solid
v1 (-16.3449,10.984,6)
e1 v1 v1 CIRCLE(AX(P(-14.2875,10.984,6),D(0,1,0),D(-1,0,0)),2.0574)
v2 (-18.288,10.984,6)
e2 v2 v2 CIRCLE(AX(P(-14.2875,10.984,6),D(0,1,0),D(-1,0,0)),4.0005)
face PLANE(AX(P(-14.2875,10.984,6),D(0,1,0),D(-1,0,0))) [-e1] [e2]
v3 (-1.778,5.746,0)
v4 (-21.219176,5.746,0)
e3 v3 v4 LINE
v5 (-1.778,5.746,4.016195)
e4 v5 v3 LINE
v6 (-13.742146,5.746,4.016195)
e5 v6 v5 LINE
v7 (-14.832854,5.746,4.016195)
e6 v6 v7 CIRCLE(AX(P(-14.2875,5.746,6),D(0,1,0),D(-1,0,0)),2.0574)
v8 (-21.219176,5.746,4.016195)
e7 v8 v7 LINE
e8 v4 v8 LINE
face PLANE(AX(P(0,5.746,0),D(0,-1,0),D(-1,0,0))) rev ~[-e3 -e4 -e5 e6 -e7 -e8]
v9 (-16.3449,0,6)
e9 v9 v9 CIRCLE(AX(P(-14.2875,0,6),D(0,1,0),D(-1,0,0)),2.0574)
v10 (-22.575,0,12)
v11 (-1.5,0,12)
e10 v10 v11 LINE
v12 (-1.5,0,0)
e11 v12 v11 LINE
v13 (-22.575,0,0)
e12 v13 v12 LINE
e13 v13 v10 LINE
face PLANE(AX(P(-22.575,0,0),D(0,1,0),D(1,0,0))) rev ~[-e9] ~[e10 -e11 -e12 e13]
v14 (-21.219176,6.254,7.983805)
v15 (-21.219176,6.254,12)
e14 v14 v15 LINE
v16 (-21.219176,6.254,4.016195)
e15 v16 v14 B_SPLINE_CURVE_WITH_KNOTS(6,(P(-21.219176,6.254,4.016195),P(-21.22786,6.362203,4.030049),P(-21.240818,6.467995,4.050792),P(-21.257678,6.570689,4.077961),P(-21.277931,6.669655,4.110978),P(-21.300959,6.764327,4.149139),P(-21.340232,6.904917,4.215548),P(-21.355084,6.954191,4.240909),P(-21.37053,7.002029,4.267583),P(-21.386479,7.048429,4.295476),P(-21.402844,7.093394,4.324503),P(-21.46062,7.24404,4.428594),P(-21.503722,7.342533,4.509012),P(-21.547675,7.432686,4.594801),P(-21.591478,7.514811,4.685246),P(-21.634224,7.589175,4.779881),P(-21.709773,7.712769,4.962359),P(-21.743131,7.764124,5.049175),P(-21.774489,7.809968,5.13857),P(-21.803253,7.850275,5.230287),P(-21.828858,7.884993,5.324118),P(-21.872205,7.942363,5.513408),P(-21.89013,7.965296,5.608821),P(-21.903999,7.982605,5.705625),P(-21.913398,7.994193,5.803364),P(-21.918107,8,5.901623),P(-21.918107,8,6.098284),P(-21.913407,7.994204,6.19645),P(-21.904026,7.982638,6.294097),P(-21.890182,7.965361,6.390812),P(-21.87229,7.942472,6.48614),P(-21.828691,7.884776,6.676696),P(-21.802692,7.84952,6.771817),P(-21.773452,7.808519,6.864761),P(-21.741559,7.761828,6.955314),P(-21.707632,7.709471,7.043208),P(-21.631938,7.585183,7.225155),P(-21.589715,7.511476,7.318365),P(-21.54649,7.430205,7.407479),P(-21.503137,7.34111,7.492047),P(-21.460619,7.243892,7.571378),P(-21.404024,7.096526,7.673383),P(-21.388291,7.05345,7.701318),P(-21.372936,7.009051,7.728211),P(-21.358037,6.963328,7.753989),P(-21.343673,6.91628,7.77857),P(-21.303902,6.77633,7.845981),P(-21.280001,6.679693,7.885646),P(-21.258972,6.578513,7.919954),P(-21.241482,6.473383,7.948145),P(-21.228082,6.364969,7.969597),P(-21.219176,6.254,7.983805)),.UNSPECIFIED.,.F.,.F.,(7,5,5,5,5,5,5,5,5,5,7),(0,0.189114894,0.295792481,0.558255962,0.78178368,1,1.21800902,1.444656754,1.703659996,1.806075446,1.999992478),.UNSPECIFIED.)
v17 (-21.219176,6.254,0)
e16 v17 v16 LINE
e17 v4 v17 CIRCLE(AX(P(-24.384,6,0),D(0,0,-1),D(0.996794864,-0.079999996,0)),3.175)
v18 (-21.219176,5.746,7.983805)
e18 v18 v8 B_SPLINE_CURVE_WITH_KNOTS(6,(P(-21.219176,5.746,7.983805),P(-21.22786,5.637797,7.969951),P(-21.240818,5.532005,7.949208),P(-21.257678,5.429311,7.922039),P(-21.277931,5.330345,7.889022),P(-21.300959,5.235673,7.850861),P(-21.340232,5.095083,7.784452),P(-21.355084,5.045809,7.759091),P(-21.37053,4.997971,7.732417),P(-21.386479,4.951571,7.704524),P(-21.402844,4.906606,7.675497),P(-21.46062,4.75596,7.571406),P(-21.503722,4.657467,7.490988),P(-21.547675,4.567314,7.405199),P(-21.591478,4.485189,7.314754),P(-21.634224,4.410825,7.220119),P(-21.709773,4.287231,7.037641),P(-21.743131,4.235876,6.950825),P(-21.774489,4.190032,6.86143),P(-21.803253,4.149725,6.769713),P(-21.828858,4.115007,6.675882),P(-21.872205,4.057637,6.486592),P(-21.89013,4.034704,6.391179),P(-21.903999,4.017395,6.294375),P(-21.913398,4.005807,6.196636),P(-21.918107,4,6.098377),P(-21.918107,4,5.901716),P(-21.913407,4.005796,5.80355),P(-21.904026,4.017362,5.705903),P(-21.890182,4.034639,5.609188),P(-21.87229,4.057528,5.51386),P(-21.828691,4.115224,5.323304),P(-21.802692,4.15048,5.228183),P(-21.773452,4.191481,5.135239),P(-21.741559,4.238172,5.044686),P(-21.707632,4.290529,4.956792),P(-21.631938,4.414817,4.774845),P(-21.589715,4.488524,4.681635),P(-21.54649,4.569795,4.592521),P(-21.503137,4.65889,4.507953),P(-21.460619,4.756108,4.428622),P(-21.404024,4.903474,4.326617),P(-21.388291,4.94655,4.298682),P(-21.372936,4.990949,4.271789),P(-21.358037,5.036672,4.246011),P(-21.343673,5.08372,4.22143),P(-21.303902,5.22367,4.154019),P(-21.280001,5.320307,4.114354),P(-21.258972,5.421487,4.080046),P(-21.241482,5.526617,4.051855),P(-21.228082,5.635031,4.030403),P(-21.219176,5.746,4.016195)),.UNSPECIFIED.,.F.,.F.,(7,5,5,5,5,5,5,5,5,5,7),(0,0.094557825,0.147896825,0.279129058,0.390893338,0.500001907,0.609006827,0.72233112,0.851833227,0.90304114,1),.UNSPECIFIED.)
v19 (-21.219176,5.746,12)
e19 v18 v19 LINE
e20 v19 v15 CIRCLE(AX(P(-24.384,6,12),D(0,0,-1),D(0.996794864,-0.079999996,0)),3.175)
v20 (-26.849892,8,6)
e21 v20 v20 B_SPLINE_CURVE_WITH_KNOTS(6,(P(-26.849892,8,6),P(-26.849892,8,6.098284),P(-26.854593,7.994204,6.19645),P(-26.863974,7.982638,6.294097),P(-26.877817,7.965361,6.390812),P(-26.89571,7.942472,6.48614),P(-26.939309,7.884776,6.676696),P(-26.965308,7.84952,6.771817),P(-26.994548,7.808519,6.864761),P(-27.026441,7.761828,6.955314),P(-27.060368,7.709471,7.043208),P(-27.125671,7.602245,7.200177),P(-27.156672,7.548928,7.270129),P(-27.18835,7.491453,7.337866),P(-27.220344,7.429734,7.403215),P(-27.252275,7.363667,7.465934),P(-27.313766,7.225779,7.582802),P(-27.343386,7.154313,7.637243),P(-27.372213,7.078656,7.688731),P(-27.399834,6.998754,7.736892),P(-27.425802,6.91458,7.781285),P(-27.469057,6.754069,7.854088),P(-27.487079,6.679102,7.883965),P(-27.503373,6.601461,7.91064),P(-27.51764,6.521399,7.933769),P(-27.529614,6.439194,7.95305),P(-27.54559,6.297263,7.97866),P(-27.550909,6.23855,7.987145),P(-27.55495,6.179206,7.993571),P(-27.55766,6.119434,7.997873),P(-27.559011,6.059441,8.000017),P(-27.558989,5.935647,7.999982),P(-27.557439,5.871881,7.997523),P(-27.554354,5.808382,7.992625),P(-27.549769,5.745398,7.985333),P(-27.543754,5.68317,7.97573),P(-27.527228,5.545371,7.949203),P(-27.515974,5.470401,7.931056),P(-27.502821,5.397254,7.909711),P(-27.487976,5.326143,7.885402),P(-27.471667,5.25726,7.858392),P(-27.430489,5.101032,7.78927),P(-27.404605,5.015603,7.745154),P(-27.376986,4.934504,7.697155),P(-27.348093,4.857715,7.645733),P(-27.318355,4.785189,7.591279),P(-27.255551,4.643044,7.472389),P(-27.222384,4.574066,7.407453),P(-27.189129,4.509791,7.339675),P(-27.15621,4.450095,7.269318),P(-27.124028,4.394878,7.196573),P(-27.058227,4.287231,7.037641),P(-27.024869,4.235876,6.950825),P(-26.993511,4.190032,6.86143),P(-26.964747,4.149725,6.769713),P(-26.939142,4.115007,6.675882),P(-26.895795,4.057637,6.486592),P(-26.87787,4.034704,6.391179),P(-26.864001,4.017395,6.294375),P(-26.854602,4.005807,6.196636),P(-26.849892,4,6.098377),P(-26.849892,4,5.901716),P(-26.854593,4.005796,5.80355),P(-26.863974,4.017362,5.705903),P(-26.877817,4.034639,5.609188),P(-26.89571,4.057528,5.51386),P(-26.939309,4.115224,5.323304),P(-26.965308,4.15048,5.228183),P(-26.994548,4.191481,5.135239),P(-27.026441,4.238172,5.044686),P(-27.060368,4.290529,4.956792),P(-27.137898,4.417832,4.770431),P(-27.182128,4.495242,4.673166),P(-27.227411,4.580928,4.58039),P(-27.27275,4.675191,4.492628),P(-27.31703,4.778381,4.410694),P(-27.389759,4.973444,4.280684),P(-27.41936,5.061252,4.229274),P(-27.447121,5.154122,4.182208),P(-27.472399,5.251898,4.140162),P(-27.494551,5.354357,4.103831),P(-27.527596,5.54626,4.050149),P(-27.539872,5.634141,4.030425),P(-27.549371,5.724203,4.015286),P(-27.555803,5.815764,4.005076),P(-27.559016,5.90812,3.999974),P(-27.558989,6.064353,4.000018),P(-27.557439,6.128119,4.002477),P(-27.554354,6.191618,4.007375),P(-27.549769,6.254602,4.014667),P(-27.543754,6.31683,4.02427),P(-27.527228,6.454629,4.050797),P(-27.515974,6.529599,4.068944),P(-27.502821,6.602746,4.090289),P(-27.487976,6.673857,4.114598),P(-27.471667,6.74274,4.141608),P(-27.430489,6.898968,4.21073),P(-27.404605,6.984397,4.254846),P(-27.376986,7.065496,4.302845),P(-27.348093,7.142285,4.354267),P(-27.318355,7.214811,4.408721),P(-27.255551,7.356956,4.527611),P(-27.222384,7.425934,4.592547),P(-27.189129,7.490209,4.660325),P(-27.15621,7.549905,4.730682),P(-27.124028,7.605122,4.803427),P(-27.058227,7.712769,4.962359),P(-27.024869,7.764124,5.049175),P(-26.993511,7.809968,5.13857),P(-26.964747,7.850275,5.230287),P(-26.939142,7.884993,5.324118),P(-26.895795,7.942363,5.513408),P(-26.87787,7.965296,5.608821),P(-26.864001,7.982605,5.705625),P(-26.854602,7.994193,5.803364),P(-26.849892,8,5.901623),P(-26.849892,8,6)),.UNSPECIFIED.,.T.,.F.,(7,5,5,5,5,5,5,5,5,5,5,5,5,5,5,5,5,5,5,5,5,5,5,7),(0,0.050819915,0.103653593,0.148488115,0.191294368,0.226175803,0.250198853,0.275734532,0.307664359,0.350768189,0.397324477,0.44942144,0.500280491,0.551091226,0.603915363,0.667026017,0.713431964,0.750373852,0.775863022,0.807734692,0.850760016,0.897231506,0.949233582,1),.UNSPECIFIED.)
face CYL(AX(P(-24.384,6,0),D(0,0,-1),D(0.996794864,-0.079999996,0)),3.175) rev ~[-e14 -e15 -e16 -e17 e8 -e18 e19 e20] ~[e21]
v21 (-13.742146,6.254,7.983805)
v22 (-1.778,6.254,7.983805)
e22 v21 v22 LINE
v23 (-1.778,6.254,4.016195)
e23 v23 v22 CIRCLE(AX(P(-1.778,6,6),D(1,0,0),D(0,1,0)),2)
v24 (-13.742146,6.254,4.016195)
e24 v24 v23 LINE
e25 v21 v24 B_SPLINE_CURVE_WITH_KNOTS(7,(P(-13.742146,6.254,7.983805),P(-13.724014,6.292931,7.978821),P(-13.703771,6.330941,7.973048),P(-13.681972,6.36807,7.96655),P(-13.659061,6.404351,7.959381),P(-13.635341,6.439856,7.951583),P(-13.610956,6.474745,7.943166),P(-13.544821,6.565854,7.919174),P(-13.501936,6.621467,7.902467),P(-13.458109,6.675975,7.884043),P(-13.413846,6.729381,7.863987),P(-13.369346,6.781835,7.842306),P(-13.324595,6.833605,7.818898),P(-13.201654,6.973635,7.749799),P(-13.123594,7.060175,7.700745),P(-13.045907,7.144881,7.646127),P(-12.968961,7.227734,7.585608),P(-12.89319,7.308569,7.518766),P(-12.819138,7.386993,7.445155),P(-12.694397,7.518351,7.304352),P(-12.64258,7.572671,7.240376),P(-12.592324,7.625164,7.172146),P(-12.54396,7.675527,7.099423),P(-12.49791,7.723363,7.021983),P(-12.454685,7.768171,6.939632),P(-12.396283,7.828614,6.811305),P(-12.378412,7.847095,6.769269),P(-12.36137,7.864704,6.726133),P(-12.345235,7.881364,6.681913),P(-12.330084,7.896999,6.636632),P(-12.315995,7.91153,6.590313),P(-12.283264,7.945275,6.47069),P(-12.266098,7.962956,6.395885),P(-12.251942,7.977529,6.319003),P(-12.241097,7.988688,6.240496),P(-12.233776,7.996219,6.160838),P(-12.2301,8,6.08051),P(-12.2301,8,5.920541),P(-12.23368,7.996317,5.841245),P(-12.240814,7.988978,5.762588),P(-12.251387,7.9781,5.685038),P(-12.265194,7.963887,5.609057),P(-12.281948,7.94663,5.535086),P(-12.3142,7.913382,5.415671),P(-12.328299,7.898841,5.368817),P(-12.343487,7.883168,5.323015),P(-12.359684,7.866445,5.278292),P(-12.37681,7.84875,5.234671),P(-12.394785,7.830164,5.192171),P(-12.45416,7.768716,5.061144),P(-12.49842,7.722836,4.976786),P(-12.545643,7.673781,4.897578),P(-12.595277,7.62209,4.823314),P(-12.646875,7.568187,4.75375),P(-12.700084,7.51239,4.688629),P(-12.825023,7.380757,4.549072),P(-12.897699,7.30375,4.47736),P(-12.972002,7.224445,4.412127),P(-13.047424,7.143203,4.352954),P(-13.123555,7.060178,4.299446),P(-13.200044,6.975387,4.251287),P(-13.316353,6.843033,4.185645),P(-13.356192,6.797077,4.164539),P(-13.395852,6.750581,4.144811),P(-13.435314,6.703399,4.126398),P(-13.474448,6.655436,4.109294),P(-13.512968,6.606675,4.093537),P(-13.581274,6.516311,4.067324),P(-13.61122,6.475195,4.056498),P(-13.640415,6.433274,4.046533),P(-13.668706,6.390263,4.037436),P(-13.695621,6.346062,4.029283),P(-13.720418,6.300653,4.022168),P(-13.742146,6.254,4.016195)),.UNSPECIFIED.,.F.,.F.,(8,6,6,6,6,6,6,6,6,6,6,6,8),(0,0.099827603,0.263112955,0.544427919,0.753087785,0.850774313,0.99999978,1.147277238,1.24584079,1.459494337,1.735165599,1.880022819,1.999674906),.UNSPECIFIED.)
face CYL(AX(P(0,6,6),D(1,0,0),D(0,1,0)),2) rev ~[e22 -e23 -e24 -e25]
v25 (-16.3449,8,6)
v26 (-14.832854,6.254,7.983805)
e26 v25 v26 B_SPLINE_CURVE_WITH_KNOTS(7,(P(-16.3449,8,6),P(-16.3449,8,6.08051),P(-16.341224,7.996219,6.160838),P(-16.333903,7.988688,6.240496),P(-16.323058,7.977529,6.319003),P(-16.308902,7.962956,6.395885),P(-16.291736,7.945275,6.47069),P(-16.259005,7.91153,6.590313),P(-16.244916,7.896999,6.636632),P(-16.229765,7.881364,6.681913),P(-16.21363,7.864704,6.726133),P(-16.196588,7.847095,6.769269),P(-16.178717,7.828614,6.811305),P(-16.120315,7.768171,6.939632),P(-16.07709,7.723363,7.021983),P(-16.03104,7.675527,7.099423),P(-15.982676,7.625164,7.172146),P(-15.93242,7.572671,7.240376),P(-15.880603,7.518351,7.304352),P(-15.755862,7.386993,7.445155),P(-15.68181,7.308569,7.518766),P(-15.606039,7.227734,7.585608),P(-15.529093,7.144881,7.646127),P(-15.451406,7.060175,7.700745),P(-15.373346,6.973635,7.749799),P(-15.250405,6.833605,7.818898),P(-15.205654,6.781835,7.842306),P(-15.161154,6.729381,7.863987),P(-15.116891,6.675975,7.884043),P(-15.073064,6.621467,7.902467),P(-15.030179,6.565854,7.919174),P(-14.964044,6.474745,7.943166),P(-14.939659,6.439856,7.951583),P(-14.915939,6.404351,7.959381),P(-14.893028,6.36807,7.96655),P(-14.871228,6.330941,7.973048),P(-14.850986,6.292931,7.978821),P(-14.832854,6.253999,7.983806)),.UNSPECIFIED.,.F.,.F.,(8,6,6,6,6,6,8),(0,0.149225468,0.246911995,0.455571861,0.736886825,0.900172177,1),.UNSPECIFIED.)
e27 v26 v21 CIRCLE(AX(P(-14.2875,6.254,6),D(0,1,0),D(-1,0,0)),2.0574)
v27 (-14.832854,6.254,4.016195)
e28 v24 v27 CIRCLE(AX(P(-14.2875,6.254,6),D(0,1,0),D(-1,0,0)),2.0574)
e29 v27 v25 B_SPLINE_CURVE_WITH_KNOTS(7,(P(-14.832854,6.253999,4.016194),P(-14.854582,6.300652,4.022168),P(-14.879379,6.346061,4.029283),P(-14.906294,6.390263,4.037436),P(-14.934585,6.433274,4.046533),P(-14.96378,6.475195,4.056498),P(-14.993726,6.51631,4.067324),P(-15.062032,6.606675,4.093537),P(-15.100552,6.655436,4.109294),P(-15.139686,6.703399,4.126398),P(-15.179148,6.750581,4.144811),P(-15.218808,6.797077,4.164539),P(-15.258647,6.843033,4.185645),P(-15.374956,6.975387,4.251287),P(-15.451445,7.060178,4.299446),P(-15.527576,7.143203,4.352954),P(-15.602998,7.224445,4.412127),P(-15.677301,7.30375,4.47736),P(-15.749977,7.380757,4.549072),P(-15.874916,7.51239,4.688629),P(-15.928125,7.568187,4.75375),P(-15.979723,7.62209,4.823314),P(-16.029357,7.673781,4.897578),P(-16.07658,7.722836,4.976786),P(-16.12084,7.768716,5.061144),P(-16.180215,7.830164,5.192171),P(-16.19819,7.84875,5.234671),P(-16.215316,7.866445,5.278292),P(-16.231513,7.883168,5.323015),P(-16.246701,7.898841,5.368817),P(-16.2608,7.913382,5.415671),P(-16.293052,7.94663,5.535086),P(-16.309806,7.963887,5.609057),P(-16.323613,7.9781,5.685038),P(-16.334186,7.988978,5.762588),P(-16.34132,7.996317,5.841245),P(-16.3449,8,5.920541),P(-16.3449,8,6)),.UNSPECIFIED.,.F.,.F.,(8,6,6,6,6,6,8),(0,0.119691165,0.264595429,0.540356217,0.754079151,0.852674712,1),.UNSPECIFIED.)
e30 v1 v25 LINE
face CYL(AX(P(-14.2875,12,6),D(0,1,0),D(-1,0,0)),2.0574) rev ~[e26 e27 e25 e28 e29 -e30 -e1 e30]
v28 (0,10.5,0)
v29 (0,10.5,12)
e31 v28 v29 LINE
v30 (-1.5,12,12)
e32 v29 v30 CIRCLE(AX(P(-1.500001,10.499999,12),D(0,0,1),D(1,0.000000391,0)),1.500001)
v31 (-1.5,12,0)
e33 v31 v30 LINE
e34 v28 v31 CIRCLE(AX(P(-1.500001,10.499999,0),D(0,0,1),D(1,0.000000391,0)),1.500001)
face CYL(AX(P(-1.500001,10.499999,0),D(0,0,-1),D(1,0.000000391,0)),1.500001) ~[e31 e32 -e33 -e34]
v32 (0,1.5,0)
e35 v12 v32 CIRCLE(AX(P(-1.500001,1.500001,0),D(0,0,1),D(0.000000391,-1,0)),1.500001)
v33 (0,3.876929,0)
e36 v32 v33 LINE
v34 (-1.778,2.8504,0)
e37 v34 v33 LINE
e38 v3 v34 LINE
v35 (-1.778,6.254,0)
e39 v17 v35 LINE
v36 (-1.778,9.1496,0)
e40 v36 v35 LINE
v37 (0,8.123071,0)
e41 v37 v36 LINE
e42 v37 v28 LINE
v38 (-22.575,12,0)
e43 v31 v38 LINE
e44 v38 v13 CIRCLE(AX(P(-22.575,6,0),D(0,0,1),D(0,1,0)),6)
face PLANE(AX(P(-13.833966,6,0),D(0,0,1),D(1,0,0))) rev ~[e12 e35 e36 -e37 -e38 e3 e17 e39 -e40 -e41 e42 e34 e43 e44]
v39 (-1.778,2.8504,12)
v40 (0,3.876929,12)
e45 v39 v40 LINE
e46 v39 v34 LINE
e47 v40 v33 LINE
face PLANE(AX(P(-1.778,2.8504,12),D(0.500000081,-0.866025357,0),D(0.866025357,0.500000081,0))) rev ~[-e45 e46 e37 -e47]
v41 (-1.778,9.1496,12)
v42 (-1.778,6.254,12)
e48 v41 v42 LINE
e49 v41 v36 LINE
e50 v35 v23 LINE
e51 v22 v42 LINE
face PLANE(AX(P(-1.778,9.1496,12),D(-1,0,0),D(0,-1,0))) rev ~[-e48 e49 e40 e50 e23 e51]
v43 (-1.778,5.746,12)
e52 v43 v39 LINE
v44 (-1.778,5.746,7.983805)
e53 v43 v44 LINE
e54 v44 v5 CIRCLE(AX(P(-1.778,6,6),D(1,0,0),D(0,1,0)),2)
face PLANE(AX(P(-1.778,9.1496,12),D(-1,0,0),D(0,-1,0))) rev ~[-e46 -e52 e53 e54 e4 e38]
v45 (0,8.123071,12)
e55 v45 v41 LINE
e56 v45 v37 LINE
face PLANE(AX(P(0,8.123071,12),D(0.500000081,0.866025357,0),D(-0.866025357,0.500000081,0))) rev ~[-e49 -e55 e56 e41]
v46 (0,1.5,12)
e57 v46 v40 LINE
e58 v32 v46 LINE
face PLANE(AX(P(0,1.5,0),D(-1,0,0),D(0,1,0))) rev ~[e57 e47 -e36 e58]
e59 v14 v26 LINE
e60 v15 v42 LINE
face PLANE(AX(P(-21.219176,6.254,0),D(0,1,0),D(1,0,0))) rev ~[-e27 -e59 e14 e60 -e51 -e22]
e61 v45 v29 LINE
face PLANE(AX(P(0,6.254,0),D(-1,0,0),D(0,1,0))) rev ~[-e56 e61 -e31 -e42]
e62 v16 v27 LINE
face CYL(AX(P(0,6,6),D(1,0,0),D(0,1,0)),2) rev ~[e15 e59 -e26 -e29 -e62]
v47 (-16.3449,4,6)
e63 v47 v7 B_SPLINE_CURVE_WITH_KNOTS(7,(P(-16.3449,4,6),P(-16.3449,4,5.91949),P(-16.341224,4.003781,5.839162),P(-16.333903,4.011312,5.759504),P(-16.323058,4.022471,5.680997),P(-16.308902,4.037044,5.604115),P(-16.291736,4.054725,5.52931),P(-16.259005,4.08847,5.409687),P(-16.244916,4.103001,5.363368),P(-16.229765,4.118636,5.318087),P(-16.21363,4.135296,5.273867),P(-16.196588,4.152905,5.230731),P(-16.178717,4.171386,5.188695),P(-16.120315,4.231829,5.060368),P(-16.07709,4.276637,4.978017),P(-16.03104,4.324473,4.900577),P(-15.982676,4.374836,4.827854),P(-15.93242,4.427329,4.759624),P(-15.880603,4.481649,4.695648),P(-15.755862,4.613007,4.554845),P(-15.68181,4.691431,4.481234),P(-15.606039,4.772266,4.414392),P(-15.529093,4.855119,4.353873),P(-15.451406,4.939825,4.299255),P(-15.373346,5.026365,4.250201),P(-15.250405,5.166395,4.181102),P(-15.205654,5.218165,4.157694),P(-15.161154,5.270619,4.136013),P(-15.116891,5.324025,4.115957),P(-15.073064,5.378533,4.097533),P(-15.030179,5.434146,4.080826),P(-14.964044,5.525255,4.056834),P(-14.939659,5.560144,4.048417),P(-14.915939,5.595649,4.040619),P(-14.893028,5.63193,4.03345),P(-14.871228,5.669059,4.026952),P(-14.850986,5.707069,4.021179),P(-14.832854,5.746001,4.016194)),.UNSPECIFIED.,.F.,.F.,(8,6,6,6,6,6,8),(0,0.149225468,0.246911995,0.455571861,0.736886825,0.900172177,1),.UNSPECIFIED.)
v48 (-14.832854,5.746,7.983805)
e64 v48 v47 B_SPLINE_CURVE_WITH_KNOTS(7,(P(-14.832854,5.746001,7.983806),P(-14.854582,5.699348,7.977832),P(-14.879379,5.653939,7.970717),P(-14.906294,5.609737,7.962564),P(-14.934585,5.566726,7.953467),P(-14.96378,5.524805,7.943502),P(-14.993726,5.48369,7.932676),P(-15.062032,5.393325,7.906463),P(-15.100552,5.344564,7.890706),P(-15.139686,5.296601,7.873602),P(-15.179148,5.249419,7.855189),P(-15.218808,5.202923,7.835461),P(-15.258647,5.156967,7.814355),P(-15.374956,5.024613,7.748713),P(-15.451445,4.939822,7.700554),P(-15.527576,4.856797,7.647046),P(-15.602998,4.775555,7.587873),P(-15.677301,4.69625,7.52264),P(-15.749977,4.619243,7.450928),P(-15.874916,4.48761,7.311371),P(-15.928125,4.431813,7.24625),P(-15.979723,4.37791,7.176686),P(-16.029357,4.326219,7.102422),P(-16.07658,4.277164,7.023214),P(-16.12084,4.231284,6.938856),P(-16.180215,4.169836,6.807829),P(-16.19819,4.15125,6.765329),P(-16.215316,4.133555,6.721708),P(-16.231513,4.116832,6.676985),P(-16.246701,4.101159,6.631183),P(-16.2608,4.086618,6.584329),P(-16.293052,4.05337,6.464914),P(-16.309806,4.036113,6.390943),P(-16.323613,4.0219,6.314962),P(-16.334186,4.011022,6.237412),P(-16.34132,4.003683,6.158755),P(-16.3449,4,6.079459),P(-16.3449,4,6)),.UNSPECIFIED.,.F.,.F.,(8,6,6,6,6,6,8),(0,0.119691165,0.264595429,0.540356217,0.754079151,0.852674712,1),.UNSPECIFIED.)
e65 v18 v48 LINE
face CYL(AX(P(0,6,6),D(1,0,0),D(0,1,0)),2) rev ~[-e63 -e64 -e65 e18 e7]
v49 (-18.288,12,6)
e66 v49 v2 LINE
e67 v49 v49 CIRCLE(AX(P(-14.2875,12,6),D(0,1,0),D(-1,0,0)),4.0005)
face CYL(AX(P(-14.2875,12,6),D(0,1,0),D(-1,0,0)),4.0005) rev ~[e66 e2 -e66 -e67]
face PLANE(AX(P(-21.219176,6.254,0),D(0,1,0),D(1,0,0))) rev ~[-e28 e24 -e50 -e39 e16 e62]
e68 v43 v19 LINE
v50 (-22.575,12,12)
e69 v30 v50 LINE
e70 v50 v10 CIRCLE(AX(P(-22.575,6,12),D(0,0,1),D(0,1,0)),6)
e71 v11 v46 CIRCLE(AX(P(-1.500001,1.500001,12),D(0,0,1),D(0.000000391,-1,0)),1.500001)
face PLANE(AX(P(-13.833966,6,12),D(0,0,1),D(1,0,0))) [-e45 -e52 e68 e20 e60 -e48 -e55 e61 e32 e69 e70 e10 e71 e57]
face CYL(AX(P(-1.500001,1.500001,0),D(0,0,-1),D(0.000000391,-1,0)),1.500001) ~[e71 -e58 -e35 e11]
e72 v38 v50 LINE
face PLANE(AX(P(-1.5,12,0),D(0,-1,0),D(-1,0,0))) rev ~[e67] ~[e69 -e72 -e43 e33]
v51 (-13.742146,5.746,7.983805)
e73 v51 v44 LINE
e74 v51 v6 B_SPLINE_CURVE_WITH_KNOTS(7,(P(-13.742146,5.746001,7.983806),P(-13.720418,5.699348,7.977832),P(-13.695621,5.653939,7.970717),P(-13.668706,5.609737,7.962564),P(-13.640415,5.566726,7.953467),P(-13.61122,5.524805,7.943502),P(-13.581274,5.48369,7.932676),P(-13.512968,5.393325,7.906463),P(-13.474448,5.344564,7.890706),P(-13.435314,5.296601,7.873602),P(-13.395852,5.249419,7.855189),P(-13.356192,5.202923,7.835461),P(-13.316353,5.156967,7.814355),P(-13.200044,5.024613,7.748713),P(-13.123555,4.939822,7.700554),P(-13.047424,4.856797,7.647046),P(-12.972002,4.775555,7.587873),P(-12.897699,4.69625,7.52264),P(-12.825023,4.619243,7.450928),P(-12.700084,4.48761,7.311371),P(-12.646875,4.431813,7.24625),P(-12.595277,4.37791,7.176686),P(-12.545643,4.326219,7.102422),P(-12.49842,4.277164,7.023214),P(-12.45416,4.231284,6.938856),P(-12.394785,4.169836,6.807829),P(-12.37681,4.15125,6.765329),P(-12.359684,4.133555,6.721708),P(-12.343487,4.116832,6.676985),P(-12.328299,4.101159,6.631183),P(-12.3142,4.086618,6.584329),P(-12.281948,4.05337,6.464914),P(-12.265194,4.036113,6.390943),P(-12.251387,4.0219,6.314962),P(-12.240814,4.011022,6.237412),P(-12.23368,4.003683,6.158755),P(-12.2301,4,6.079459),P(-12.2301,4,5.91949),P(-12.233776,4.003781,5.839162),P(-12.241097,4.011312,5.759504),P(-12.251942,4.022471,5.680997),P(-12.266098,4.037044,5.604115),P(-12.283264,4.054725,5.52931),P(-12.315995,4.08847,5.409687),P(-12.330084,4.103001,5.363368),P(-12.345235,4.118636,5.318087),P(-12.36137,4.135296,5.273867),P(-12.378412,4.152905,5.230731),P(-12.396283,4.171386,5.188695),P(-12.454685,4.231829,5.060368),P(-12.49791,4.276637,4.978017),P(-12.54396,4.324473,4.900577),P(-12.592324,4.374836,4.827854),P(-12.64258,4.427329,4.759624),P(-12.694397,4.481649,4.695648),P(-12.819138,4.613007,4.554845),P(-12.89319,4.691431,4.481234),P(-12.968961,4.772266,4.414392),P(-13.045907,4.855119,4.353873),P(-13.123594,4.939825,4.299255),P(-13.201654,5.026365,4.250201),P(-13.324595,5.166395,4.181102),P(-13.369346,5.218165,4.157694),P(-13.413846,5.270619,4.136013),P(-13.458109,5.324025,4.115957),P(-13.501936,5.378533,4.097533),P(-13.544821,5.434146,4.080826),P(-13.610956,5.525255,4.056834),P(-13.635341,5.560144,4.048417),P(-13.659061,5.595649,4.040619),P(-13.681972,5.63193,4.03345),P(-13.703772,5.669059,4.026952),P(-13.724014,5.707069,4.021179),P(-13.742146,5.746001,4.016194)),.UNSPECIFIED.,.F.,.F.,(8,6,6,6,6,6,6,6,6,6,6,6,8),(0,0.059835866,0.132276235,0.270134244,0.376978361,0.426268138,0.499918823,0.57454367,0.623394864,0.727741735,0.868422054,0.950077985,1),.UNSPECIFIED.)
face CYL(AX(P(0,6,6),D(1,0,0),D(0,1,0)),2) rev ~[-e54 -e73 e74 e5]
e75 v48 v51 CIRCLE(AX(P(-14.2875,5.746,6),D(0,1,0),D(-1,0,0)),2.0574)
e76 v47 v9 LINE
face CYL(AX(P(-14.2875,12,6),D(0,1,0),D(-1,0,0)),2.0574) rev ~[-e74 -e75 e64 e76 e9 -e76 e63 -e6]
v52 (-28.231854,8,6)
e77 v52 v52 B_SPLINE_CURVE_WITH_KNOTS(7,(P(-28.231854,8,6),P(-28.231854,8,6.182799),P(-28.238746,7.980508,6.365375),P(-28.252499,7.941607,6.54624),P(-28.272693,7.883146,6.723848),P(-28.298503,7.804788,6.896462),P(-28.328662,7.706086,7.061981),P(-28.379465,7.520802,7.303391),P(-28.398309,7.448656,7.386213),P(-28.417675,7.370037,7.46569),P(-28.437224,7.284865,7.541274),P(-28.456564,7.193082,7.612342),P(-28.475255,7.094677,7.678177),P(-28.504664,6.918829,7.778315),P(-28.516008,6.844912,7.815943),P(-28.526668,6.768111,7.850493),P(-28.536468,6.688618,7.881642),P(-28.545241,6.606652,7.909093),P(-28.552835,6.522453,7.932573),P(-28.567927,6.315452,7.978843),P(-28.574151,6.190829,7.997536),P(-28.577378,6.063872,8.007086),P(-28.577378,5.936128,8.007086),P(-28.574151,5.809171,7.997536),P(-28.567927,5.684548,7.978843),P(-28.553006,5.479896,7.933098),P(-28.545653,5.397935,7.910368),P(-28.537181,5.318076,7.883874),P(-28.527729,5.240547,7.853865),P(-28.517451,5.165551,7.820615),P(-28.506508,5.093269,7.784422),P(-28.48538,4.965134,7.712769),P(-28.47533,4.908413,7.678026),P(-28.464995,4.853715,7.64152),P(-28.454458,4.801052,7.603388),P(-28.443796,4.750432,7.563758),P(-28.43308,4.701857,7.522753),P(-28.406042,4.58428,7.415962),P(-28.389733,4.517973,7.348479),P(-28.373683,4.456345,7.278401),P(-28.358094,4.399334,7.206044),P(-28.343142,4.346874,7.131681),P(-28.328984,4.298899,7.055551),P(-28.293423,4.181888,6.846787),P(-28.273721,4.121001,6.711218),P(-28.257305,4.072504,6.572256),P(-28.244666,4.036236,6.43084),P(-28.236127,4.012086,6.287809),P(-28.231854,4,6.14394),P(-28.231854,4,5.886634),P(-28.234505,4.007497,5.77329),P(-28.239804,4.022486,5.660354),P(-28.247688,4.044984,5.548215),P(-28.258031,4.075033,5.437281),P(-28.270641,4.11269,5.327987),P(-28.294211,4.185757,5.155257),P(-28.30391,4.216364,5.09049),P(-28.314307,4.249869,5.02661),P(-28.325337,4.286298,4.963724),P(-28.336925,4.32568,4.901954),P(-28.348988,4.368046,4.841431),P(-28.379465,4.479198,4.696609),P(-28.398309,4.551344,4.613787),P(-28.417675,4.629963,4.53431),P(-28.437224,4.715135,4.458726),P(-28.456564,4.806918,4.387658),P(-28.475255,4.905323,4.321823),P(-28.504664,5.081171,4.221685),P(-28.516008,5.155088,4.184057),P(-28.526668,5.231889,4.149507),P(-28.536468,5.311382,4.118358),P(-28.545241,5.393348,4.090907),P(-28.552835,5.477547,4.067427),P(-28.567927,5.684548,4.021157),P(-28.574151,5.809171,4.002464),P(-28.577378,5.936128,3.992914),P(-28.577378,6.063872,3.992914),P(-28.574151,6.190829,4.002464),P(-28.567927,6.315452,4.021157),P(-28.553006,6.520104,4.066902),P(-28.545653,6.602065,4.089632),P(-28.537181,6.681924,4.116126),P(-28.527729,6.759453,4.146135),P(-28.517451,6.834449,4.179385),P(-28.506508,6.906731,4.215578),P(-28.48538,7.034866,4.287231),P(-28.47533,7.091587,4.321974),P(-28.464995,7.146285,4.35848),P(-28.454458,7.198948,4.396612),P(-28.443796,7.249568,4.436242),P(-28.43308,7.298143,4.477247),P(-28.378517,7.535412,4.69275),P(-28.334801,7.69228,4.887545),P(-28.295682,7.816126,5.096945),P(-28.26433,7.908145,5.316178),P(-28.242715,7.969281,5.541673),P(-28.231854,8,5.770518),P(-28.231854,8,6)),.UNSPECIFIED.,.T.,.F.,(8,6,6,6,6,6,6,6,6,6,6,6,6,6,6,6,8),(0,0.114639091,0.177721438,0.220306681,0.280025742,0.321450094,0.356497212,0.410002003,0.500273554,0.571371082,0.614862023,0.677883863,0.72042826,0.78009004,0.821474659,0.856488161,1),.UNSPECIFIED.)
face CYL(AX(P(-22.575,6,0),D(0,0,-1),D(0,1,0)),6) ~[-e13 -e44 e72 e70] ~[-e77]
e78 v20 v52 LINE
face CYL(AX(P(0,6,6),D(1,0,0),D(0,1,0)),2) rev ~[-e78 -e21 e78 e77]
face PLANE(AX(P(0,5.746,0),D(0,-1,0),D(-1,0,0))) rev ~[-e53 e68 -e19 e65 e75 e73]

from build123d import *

# Parameters (mm, degrees)
F1_DEPTH = 12
F2_R     = 2.0574
F3_DEPTH = 12.001
F4_R     = 4.0005
F5_DEPTH = 1.016
F6_R     = 2
F7_DEPTH = 28.576
F9_DEPTH = 12.001


with BuildPart() as f1:
    # F0 (on Top) → F1 (new body)
    with BuildSketch(Plane.XY):
        with BuildLine():
            Line((-22.575, 0), (-1.5, 0))
            ThreePointArc((-1.5, 0), (-0.43934, 0.43934), (0, 1.5))
            Line((0, 1.5), (0, 5.746))
            Line((0, 5.746), (-21.219176, 5.746))
            ThreePointArc((-21.219176, 5.746), (-27.559, 6), (-21.219176, 6.254))
            Line((-21.219176, 6.254), (0, 6.254))
            Line((0, 6.254), (0, 10.5))
            ThreePointArc((0, 10.5), (-0.43934, 11.56066), (-1.5, 12))
            Line((-1.5, 12), (-22.575, 12))
            ThreePointArc((-22.575, 12), (-28.575, 6), (-22.575, 0))
        make_face()
    extrude(amount=F1_DEPTH)

    # F2 (on face) → F3 (cut, through all)
    with BuildSketch(Plane(origin=(0, 12, 0), x_dir=(-1, 0, 0), z_dir=(0, 1, 0))):
        with Locations((14.2875, 6)):
            Circle(F2_R)
    extrude(amount=-F3_DEPTH, mode=Mode.SUBTRACT)

    # F4 (on face) → F5 (cut)
    with BuildSketch(Plane(origin=(0, 12, 0), x_dir=(-1, 0, 0), z_dir=(0, 1, 0))):
        with Locations((14.2875, 6)):
            Circle(F4_R)
    extrude(amount=-F5_DEPTH, mode=Mode.SUBTRACT)

    # F6 (on face) → F7 (cut, through all)
    with BuildSketch(Plane.YZ):
        with Locations((6, 6)):
            Circle(F6_R)
    extrude(amount=-F7_DEPTH, mode=Mode.SUBTRACT)

    # F8 (on face) → F9 (cut, through all)
    with BuildSketch(Plane.XY.offset(12)):
        Polygon((0, 6.254), (0, 8.123071), (-1.778, 9.1496), (-1.778, 2.8504), (0, 3.876929), (0, 5.746), align=None)
    extrude(amount=-F9_DEPTH, mode=Mode.SUBTRACT)


solid = f1.part
